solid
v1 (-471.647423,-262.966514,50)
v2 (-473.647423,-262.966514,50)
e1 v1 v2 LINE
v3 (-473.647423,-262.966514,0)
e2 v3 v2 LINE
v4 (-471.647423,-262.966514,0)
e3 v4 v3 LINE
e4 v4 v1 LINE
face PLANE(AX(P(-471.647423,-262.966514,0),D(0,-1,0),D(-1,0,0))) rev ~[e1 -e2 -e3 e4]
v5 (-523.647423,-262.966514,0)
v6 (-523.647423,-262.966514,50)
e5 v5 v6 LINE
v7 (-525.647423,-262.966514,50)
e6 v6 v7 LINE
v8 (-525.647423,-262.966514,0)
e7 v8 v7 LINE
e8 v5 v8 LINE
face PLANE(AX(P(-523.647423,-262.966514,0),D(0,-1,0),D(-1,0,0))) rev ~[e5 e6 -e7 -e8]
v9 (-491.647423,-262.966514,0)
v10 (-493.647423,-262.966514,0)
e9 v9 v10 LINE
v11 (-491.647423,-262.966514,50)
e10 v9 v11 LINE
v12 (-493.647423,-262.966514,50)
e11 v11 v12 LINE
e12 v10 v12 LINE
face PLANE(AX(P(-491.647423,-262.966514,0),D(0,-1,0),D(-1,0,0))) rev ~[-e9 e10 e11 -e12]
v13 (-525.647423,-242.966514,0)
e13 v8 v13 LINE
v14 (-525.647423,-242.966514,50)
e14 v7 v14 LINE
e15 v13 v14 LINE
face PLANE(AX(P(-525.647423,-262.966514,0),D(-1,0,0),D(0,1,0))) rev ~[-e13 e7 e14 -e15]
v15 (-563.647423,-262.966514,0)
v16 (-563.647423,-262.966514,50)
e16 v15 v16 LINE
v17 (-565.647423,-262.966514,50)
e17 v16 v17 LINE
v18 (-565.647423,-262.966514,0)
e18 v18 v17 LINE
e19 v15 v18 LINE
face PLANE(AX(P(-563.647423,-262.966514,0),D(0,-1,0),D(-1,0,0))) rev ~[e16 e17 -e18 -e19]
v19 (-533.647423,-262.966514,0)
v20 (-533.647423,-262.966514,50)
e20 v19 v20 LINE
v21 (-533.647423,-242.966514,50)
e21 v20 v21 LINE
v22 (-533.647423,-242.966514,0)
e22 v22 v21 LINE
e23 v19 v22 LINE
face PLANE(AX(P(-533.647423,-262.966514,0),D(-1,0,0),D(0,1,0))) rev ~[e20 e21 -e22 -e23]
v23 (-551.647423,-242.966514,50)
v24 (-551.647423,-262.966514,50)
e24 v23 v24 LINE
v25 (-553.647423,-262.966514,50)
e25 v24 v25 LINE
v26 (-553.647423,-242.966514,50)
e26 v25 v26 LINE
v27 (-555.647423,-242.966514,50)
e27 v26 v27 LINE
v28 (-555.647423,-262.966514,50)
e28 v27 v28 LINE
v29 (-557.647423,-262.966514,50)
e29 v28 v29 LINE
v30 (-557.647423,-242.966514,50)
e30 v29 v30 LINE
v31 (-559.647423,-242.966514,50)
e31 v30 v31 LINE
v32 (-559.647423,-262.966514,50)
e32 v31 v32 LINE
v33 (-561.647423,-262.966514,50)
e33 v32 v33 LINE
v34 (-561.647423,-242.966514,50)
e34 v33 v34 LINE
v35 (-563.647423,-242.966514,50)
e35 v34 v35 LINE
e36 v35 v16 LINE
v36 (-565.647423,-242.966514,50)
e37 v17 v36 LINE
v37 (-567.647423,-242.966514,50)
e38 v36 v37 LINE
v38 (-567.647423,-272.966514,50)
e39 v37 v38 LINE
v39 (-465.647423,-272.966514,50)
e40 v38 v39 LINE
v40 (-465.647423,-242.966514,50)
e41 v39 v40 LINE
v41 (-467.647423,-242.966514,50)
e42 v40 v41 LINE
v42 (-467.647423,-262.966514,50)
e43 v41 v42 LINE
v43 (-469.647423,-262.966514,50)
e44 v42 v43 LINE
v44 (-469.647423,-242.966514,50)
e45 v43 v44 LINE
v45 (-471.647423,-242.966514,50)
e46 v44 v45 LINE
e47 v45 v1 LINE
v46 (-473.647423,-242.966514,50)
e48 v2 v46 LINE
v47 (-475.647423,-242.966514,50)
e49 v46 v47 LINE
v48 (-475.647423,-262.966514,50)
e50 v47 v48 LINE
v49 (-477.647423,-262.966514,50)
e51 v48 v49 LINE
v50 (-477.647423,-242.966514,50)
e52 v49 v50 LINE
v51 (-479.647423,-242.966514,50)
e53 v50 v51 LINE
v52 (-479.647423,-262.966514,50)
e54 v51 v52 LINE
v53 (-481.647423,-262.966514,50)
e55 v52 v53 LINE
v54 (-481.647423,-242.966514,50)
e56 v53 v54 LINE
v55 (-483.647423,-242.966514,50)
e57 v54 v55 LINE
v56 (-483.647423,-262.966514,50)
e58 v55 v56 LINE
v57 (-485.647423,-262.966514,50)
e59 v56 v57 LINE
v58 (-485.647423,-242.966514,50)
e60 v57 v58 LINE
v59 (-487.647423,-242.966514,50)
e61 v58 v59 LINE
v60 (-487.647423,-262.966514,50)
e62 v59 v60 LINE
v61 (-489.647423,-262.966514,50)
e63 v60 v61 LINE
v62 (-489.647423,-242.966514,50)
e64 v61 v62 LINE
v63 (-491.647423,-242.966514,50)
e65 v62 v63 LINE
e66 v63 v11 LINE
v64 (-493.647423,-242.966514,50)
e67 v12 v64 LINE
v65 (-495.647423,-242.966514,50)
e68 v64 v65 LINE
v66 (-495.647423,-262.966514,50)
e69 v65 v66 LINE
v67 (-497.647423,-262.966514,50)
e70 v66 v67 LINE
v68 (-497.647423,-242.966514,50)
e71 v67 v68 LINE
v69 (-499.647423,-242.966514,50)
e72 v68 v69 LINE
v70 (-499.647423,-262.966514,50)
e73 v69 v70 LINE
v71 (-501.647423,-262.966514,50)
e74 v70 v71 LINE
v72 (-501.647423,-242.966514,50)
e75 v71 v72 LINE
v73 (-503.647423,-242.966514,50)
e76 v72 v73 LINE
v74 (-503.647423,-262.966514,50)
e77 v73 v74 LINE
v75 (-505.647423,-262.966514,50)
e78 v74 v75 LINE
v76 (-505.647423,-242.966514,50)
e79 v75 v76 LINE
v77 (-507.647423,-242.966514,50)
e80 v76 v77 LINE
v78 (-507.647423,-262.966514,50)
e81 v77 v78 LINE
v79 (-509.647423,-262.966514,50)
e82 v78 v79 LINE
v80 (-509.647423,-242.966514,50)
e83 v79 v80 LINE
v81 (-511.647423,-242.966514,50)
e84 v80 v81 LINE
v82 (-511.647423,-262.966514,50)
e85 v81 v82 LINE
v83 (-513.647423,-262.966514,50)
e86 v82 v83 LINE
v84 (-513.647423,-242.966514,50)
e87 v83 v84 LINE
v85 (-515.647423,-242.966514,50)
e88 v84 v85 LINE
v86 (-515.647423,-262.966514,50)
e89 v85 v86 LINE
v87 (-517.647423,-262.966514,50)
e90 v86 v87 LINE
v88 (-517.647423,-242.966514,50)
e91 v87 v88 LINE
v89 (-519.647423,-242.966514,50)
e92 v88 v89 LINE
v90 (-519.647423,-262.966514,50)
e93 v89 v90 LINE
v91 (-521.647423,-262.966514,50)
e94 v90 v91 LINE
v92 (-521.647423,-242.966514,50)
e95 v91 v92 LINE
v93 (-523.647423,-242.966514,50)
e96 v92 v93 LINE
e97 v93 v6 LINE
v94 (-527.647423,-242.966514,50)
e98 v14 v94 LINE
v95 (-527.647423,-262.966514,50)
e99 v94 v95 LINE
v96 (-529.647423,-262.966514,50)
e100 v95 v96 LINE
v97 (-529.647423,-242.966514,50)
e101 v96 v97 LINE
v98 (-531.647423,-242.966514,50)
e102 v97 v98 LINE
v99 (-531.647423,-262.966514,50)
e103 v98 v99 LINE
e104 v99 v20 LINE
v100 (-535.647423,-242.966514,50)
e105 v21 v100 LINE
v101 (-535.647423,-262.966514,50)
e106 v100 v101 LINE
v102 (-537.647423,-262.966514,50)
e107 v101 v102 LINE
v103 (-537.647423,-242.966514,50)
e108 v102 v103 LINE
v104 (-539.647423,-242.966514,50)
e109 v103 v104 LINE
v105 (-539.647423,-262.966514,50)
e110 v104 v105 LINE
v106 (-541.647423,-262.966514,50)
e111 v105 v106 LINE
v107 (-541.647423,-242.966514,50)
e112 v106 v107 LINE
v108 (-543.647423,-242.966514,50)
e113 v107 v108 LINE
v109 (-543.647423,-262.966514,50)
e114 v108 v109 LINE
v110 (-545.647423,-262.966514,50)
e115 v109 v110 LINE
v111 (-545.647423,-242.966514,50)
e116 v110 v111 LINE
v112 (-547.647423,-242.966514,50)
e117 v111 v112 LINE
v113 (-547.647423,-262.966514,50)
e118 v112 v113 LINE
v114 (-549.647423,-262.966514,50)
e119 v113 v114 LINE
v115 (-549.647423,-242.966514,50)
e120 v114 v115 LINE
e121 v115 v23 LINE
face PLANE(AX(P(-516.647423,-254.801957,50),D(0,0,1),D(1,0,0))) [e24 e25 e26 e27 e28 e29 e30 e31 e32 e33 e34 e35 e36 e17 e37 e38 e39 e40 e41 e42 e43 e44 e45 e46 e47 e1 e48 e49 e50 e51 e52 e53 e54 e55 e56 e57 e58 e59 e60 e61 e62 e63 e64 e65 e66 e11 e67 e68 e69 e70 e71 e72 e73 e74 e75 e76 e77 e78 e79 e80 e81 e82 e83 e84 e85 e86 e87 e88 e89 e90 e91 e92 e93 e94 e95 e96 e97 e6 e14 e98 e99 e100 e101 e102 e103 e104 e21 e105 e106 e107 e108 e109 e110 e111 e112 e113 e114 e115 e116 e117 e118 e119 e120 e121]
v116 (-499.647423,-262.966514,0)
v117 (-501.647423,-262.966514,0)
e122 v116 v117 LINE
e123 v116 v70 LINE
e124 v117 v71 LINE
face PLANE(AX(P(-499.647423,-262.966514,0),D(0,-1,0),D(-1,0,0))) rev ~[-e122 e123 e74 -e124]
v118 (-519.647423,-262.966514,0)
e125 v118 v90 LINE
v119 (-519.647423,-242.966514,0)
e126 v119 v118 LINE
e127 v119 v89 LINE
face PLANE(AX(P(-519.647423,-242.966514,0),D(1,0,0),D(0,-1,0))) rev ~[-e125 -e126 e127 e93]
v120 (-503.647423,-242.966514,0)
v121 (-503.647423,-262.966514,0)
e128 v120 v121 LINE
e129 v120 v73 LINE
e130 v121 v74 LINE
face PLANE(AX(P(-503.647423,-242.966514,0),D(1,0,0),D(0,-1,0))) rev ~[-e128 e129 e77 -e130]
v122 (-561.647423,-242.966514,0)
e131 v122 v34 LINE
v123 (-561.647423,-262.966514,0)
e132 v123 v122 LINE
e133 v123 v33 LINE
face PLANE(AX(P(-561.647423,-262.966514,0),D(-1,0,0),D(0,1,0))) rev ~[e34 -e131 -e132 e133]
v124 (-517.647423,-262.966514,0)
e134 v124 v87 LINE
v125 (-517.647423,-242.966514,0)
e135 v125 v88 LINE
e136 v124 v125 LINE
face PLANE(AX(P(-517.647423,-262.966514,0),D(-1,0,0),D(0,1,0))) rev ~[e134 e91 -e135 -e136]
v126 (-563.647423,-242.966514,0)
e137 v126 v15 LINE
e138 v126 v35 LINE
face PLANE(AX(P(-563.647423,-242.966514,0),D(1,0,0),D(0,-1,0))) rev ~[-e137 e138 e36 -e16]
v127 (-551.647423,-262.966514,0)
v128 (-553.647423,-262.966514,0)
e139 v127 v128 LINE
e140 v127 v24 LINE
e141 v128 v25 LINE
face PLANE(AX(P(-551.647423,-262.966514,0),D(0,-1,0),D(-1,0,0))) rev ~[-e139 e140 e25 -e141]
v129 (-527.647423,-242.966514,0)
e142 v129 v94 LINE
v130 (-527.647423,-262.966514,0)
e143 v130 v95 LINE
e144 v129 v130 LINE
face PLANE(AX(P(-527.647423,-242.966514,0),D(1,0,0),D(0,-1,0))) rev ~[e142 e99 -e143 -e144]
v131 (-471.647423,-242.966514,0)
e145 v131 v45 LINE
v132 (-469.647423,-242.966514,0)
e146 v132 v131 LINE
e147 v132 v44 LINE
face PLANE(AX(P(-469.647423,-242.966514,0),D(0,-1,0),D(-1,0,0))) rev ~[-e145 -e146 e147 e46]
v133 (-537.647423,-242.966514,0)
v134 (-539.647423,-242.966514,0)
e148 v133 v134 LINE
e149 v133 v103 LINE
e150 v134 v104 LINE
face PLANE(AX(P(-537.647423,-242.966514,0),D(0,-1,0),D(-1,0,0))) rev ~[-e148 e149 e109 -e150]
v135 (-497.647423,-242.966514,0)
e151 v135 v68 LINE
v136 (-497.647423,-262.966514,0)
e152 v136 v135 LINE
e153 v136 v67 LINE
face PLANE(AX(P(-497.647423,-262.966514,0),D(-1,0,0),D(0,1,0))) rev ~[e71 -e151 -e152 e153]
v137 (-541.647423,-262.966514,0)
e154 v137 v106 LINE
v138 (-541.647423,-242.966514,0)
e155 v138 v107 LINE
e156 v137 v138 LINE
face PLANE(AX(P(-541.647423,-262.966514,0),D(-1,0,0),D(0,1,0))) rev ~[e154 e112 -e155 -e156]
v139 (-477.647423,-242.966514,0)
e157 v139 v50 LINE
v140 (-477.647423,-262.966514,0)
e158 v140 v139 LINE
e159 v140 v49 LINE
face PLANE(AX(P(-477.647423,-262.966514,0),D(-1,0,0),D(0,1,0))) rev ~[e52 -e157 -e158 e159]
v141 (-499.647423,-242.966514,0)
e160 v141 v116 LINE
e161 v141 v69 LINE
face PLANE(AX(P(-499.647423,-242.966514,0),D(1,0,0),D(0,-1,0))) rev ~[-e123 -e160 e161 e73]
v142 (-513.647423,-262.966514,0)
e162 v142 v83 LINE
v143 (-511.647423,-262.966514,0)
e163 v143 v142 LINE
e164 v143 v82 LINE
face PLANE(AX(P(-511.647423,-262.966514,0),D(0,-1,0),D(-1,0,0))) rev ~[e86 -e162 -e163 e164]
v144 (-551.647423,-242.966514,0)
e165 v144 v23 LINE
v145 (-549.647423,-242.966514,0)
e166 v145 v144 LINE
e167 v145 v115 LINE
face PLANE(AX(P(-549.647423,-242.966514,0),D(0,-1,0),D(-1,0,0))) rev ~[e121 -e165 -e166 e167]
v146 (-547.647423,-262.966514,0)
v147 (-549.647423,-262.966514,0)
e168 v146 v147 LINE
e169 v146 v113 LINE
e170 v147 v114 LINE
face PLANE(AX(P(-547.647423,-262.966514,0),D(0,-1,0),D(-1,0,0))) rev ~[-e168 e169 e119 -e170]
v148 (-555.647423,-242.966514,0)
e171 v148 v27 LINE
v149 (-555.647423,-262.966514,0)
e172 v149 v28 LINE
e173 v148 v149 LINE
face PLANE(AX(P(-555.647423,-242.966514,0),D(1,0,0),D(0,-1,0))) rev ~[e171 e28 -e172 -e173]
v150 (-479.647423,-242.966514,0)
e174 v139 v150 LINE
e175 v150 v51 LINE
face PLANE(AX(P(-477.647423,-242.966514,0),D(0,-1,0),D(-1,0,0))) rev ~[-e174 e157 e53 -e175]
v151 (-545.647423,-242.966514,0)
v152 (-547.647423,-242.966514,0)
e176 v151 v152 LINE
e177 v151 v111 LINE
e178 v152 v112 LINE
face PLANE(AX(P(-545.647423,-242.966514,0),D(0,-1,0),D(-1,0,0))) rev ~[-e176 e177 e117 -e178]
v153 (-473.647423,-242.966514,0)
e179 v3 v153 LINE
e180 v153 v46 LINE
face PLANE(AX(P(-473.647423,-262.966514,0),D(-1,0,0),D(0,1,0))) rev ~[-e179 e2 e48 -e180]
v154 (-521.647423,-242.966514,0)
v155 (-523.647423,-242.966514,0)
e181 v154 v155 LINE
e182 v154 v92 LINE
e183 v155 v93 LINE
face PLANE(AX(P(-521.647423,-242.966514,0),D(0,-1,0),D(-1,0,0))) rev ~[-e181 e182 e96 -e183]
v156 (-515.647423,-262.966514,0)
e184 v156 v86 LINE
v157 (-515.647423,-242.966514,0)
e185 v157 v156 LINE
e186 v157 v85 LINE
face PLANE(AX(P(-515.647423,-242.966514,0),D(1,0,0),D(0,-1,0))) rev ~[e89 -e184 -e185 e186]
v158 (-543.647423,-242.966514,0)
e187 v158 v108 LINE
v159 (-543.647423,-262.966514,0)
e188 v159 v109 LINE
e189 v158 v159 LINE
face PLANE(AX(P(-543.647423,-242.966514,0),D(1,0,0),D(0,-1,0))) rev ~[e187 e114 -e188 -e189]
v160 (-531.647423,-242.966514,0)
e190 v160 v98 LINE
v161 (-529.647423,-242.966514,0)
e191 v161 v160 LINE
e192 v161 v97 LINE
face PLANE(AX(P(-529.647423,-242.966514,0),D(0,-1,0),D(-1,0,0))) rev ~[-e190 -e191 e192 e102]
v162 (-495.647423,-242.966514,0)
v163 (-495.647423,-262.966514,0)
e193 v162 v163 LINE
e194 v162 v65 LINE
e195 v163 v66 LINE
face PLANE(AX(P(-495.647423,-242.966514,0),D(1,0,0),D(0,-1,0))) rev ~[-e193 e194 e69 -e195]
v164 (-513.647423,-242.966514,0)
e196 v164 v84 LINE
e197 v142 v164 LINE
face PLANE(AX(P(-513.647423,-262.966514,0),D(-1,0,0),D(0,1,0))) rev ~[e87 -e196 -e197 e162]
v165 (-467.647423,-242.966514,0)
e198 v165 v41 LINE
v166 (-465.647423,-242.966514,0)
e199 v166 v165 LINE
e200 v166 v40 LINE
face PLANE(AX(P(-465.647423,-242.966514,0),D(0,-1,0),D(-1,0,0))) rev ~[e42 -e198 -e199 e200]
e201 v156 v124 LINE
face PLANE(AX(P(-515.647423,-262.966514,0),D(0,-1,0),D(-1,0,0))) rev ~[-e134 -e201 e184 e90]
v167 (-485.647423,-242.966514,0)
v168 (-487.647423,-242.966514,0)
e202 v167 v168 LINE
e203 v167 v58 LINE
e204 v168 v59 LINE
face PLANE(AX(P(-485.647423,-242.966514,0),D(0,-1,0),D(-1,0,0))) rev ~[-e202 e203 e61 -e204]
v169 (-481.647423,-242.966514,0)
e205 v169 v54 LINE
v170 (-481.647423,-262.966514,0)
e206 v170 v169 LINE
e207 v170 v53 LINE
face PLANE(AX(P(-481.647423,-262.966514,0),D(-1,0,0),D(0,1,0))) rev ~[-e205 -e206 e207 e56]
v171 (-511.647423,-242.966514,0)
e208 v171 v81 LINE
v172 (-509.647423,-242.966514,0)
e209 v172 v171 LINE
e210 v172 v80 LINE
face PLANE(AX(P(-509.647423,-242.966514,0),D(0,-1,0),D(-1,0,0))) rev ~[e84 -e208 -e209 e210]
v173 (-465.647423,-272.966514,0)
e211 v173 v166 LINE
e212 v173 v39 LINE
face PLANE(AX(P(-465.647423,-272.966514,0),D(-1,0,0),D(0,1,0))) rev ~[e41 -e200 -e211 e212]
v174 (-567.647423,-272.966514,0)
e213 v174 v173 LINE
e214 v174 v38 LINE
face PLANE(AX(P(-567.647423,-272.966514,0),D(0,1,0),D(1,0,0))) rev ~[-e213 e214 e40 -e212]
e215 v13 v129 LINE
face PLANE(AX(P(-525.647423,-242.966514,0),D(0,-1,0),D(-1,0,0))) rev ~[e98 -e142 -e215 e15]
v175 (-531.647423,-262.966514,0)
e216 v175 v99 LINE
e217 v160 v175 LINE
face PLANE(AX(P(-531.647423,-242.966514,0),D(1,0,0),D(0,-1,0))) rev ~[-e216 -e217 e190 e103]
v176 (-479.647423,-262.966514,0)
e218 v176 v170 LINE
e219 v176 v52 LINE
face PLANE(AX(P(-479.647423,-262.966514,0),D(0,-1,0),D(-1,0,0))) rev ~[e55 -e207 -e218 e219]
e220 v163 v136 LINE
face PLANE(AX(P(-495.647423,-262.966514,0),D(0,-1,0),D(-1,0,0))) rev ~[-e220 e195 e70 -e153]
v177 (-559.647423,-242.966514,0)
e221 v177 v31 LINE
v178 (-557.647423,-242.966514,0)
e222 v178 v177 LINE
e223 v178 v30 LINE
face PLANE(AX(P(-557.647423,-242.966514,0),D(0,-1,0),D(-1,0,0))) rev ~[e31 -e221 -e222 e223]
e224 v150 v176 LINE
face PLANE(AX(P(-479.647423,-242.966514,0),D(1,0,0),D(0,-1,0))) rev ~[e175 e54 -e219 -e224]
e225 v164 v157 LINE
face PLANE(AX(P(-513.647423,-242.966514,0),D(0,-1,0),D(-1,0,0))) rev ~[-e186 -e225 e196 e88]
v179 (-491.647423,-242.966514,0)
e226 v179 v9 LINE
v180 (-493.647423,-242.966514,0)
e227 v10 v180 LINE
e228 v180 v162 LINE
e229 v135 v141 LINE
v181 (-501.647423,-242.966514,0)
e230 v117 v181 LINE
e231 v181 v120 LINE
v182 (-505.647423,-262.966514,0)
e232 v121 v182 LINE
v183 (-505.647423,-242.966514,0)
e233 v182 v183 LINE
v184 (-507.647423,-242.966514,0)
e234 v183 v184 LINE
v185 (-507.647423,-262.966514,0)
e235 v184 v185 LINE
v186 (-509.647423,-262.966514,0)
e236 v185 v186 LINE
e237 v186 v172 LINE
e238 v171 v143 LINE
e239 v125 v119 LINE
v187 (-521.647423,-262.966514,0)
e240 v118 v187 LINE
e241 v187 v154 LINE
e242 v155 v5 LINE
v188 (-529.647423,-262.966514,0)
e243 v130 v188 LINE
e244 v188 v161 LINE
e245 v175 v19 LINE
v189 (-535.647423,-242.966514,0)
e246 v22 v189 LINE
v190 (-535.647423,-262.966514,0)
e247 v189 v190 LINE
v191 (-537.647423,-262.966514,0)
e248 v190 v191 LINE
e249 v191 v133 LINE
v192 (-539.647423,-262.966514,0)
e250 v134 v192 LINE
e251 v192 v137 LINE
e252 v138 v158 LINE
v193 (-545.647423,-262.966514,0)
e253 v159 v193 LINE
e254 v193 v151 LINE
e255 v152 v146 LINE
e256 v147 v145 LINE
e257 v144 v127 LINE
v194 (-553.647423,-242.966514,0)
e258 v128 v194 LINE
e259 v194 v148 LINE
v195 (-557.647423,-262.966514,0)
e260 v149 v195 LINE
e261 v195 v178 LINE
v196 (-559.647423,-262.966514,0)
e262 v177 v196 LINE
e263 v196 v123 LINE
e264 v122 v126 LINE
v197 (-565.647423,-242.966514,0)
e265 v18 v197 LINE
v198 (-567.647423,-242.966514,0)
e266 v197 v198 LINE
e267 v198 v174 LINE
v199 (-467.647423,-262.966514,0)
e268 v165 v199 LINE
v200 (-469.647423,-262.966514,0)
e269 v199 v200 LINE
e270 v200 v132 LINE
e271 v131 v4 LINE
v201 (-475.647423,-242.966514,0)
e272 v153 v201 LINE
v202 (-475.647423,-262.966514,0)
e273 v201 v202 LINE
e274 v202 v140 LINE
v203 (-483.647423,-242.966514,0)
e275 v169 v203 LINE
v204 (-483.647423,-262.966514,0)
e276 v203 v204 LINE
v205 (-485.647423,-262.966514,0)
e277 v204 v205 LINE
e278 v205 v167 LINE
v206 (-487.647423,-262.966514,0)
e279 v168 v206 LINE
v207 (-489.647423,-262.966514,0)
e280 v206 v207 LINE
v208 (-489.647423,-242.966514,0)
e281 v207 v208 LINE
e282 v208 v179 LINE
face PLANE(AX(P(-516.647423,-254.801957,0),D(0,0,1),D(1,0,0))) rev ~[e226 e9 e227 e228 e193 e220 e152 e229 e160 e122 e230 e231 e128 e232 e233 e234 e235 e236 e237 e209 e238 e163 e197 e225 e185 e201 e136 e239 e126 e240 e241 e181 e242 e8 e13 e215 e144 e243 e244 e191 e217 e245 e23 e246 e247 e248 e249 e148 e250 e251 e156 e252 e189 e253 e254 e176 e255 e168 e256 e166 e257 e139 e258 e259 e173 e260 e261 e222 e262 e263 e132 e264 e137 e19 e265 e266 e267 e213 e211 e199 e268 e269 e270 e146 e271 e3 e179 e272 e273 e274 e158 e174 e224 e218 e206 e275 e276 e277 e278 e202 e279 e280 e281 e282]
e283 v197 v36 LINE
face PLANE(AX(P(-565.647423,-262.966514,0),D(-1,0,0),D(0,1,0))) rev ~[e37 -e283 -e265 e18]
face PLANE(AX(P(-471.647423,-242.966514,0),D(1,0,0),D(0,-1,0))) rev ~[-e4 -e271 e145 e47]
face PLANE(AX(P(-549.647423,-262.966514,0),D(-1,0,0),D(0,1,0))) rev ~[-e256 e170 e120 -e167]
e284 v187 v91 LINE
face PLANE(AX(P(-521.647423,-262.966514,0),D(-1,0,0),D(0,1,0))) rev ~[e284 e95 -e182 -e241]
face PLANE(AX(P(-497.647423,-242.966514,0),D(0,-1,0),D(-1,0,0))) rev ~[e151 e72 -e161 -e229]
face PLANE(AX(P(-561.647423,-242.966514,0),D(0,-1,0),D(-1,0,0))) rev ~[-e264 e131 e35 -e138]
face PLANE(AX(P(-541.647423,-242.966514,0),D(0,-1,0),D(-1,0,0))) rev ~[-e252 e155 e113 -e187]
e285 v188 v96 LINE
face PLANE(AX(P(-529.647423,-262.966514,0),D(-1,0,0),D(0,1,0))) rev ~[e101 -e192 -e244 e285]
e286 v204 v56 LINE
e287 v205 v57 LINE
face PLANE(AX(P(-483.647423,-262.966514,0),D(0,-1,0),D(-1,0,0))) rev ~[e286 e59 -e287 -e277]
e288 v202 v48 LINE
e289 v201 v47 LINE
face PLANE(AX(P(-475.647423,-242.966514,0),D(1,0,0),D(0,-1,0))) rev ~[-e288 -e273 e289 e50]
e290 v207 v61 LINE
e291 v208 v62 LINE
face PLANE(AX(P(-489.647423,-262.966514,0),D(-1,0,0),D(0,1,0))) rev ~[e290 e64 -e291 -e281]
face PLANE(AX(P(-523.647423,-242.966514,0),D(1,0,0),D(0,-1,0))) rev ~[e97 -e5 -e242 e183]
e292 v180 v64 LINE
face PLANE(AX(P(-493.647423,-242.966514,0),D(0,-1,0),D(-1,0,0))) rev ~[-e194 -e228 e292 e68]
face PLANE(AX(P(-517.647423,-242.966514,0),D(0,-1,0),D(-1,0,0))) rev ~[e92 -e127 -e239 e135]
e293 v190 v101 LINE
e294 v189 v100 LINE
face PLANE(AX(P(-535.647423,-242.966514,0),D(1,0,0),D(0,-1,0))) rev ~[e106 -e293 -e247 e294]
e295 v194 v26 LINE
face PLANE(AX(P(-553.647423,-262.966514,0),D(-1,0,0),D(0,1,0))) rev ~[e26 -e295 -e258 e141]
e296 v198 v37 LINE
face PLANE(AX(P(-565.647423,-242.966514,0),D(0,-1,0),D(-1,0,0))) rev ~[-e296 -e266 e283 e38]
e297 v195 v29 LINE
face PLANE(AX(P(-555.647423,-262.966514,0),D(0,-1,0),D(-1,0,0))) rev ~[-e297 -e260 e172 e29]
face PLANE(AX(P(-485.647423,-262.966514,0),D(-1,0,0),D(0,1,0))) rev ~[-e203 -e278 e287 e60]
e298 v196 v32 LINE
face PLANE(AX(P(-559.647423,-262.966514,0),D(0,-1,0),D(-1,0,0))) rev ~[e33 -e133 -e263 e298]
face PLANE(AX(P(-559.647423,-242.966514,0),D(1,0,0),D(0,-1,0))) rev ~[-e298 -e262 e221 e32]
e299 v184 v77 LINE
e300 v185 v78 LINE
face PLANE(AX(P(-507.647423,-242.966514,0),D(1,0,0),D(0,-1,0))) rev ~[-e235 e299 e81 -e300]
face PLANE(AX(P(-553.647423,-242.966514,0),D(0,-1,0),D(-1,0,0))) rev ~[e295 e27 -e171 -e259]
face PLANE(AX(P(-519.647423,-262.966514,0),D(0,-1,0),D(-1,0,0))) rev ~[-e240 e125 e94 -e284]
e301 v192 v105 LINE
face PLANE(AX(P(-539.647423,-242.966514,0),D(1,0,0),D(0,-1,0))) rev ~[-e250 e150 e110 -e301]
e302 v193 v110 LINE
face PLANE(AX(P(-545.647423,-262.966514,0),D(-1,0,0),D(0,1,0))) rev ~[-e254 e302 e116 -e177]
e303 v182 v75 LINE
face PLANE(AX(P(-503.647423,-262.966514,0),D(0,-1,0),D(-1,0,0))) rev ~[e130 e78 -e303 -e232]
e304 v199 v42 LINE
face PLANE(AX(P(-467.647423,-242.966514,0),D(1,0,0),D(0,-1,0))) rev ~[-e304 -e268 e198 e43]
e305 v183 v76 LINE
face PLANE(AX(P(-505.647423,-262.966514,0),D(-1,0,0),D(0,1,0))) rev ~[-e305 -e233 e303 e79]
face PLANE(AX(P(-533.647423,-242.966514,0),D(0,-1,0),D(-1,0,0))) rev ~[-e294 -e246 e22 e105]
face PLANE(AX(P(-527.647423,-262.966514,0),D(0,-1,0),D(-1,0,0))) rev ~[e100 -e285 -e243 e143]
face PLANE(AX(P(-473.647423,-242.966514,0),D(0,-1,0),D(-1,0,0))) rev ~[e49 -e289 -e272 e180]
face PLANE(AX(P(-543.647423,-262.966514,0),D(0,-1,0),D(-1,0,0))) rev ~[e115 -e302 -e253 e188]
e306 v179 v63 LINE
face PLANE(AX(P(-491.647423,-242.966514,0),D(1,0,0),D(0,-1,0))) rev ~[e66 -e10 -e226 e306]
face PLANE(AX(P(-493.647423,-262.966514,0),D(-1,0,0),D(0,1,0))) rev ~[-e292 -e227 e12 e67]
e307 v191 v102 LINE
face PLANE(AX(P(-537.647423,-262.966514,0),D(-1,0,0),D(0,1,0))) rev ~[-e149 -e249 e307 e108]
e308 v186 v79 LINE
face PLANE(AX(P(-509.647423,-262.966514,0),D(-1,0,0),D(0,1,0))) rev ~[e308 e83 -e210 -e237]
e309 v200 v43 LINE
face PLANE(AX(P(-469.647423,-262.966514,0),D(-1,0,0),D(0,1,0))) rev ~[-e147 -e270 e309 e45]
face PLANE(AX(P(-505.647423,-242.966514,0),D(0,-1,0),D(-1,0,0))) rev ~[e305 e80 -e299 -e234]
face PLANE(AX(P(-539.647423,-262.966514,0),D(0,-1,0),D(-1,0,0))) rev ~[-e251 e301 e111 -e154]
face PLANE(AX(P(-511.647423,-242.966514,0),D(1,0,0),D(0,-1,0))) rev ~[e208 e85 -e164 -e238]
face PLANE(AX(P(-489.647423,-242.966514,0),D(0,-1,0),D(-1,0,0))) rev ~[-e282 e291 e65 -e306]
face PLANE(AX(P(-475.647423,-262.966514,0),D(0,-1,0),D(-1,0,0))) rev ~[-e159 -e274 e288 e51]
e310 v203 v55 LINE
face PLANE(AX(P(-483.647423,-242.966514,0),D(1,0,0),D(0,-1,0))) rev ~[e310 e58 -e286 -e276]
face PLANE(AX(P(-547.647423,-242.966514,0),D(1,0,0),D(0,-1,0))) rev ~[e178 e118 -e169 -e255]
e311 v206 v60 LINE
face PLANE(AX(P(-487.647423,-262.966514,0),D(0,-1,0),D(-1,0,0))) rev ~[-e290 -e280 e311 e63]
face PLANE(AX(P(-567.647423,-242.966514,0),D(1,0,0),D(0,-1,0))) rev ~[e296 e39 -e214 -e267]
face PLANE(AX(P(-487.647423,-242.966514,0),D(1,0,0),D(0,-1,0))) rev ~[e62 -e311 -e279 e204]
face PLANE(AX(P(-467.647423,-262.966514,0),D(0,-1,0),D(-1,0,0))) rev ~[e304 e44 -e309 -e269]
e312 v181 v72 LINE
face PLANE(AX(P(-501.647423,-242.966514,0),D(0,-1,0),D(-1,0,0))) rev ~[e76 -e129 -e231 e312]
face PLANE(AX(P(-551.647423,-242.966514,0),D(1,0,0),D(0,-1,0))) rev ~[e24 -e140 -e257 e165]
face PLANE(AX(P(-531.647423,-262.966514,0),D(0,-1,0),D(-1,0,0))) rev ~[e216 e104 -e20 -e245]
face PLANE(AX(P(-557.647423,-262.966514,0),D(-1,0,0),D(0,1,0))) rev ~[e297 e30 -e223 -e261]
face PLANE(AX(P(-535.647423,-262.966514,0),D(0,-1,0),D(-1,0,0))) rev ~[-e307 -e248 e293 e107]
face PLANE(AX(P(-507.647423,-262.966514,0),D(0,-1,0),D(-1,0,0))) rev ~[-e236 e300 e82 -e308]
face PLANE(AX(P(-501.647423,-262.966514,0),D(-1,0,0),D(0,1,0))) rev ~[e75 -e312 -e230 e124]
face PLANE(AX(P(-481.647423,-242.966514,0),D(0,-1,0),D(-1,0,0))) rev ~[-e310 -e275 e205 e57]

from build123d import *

# Parameters (mm, degrees)
F1_DEPTH = 50


with BuildPart() as f1:
    # F0 (on Top) → F1 (new body)
    with BuildSketch(Plane.XY):
        Polygon((-567.647423, -242.966514), (-567.647423, -272.966514), (-465.647423, -272.966514), (-465.647423, -242.966514), (-467.647423, -242.966514), (-467.647423, -262.966514), (-469.647423, -262.966514), (-469.647423, -242.966514), (-471.647423, -242.966514), (-471.647423, -262.966514), (-473.647423, -262.966514), (-473.647423, -242.966514), (-475.647423, -242.966514), (-475.647423, -262.966514), (-477.647423, -262.966514), (-477.647423, -242.966514), (-479.647423, -242.966514), (-479.647423, -262.966514), (-481.647423, -262.966514), (-481.647423, -242.966514), (-483.647423, -242.966514), (-483.647423, -262.966514), (-485.647423, -262.966514), (-485.647423, -242.966514), (-487.647423, -242.966514), (-487.647423, -262.966514), (-489.647423, -262.966514), (-489.647423, -242.966514), (-491.647423, -242.966514), (-491.647423, -262.966514), (-493.647423, -262.966514), (-493.647423, -242.966514), (-495.647423, -242.966514), (-495.647423, -262.966514), (-497.647423, -262.966514), (-497.647423, -242.966514), (-499.647423, -242.966514), (-499.647423, -262.966514), (-501.647423, -262.966514), (-501.647423, -242.966514), (-503.647423, -242.966514), (-503.647423, -262.966514), (-505.647423, -262.966514), (-505.647423, -242.966514), (-507.647423, -242.966514), (-507.647423, -262.966514), (-509.647423, -262.966514), (-509.647423, -242.966514), (-511.647423, -242.966514), (-511.647423, -262.966514), (-513.647423, -262.966514), (-513.647423, -242.966514), (-515.647423, -242.966514), (-515.647423, -262.966514), (-517.647423, -262.966514), (-517.647423, -242.966514), (-519.647423, -242.966514), (-519.647423, -262.966514), (-521.647423, -262.966514), (-521.647423, -242.966514), (-523.647423, -242.966514), (-523.647423, -262.966514), (-525.647423, -262.966514), (-525.647423, -242.966514), (-527.647423, -242.966514), (-527.647423, -262.966514), (-529.647423, -262.966514), (-529.647423, -242.966514), (-531.647423, -242.966514), (-531.647423, -262.966514), (-533.647423, -262.966514), (-533.647423, -242.966514), (-535.647423, -242.966514), (-535.647423, -262.966514), (-537.647423, -262.966514), (-537.647423, -242.966514), (-539.647423, -242.966514), (-539.647423, -262.966514), (-541.647423, -262.966514), (-541.647423, -242.966514), (-543.647423, -242.966514), (-543.647423, -262.966514), (-545.647423, -262.966514), (-545.647423, -242.966514), (-547.647423, -242.966514), (-547.647423, -262.966514), (-549.647423, -262.966514), (-549.647423, -242.966514), (-551.647423, -242.966514), (-551.647423, -262.966514), (-553.647423, -262.966514), (-553.647423, -242.966514), (-555.647423, -242.966514), (-555.647423, -262.966514), (-557.647423, -262.966514), (-557.647423, -242.966514), (-559.647423, -242.966514), (-559.647423, -262.966514), (-561.647423, -262.966514), (-561.647423, -242.966514), (-563.647423, -242.966514), (-563.647423, -262.966514), (-565.647423, -262.966514), (-565.647423, -242.966514), align=None)
    extrude(amount=F1_DEPTH)


solid = f1.part
